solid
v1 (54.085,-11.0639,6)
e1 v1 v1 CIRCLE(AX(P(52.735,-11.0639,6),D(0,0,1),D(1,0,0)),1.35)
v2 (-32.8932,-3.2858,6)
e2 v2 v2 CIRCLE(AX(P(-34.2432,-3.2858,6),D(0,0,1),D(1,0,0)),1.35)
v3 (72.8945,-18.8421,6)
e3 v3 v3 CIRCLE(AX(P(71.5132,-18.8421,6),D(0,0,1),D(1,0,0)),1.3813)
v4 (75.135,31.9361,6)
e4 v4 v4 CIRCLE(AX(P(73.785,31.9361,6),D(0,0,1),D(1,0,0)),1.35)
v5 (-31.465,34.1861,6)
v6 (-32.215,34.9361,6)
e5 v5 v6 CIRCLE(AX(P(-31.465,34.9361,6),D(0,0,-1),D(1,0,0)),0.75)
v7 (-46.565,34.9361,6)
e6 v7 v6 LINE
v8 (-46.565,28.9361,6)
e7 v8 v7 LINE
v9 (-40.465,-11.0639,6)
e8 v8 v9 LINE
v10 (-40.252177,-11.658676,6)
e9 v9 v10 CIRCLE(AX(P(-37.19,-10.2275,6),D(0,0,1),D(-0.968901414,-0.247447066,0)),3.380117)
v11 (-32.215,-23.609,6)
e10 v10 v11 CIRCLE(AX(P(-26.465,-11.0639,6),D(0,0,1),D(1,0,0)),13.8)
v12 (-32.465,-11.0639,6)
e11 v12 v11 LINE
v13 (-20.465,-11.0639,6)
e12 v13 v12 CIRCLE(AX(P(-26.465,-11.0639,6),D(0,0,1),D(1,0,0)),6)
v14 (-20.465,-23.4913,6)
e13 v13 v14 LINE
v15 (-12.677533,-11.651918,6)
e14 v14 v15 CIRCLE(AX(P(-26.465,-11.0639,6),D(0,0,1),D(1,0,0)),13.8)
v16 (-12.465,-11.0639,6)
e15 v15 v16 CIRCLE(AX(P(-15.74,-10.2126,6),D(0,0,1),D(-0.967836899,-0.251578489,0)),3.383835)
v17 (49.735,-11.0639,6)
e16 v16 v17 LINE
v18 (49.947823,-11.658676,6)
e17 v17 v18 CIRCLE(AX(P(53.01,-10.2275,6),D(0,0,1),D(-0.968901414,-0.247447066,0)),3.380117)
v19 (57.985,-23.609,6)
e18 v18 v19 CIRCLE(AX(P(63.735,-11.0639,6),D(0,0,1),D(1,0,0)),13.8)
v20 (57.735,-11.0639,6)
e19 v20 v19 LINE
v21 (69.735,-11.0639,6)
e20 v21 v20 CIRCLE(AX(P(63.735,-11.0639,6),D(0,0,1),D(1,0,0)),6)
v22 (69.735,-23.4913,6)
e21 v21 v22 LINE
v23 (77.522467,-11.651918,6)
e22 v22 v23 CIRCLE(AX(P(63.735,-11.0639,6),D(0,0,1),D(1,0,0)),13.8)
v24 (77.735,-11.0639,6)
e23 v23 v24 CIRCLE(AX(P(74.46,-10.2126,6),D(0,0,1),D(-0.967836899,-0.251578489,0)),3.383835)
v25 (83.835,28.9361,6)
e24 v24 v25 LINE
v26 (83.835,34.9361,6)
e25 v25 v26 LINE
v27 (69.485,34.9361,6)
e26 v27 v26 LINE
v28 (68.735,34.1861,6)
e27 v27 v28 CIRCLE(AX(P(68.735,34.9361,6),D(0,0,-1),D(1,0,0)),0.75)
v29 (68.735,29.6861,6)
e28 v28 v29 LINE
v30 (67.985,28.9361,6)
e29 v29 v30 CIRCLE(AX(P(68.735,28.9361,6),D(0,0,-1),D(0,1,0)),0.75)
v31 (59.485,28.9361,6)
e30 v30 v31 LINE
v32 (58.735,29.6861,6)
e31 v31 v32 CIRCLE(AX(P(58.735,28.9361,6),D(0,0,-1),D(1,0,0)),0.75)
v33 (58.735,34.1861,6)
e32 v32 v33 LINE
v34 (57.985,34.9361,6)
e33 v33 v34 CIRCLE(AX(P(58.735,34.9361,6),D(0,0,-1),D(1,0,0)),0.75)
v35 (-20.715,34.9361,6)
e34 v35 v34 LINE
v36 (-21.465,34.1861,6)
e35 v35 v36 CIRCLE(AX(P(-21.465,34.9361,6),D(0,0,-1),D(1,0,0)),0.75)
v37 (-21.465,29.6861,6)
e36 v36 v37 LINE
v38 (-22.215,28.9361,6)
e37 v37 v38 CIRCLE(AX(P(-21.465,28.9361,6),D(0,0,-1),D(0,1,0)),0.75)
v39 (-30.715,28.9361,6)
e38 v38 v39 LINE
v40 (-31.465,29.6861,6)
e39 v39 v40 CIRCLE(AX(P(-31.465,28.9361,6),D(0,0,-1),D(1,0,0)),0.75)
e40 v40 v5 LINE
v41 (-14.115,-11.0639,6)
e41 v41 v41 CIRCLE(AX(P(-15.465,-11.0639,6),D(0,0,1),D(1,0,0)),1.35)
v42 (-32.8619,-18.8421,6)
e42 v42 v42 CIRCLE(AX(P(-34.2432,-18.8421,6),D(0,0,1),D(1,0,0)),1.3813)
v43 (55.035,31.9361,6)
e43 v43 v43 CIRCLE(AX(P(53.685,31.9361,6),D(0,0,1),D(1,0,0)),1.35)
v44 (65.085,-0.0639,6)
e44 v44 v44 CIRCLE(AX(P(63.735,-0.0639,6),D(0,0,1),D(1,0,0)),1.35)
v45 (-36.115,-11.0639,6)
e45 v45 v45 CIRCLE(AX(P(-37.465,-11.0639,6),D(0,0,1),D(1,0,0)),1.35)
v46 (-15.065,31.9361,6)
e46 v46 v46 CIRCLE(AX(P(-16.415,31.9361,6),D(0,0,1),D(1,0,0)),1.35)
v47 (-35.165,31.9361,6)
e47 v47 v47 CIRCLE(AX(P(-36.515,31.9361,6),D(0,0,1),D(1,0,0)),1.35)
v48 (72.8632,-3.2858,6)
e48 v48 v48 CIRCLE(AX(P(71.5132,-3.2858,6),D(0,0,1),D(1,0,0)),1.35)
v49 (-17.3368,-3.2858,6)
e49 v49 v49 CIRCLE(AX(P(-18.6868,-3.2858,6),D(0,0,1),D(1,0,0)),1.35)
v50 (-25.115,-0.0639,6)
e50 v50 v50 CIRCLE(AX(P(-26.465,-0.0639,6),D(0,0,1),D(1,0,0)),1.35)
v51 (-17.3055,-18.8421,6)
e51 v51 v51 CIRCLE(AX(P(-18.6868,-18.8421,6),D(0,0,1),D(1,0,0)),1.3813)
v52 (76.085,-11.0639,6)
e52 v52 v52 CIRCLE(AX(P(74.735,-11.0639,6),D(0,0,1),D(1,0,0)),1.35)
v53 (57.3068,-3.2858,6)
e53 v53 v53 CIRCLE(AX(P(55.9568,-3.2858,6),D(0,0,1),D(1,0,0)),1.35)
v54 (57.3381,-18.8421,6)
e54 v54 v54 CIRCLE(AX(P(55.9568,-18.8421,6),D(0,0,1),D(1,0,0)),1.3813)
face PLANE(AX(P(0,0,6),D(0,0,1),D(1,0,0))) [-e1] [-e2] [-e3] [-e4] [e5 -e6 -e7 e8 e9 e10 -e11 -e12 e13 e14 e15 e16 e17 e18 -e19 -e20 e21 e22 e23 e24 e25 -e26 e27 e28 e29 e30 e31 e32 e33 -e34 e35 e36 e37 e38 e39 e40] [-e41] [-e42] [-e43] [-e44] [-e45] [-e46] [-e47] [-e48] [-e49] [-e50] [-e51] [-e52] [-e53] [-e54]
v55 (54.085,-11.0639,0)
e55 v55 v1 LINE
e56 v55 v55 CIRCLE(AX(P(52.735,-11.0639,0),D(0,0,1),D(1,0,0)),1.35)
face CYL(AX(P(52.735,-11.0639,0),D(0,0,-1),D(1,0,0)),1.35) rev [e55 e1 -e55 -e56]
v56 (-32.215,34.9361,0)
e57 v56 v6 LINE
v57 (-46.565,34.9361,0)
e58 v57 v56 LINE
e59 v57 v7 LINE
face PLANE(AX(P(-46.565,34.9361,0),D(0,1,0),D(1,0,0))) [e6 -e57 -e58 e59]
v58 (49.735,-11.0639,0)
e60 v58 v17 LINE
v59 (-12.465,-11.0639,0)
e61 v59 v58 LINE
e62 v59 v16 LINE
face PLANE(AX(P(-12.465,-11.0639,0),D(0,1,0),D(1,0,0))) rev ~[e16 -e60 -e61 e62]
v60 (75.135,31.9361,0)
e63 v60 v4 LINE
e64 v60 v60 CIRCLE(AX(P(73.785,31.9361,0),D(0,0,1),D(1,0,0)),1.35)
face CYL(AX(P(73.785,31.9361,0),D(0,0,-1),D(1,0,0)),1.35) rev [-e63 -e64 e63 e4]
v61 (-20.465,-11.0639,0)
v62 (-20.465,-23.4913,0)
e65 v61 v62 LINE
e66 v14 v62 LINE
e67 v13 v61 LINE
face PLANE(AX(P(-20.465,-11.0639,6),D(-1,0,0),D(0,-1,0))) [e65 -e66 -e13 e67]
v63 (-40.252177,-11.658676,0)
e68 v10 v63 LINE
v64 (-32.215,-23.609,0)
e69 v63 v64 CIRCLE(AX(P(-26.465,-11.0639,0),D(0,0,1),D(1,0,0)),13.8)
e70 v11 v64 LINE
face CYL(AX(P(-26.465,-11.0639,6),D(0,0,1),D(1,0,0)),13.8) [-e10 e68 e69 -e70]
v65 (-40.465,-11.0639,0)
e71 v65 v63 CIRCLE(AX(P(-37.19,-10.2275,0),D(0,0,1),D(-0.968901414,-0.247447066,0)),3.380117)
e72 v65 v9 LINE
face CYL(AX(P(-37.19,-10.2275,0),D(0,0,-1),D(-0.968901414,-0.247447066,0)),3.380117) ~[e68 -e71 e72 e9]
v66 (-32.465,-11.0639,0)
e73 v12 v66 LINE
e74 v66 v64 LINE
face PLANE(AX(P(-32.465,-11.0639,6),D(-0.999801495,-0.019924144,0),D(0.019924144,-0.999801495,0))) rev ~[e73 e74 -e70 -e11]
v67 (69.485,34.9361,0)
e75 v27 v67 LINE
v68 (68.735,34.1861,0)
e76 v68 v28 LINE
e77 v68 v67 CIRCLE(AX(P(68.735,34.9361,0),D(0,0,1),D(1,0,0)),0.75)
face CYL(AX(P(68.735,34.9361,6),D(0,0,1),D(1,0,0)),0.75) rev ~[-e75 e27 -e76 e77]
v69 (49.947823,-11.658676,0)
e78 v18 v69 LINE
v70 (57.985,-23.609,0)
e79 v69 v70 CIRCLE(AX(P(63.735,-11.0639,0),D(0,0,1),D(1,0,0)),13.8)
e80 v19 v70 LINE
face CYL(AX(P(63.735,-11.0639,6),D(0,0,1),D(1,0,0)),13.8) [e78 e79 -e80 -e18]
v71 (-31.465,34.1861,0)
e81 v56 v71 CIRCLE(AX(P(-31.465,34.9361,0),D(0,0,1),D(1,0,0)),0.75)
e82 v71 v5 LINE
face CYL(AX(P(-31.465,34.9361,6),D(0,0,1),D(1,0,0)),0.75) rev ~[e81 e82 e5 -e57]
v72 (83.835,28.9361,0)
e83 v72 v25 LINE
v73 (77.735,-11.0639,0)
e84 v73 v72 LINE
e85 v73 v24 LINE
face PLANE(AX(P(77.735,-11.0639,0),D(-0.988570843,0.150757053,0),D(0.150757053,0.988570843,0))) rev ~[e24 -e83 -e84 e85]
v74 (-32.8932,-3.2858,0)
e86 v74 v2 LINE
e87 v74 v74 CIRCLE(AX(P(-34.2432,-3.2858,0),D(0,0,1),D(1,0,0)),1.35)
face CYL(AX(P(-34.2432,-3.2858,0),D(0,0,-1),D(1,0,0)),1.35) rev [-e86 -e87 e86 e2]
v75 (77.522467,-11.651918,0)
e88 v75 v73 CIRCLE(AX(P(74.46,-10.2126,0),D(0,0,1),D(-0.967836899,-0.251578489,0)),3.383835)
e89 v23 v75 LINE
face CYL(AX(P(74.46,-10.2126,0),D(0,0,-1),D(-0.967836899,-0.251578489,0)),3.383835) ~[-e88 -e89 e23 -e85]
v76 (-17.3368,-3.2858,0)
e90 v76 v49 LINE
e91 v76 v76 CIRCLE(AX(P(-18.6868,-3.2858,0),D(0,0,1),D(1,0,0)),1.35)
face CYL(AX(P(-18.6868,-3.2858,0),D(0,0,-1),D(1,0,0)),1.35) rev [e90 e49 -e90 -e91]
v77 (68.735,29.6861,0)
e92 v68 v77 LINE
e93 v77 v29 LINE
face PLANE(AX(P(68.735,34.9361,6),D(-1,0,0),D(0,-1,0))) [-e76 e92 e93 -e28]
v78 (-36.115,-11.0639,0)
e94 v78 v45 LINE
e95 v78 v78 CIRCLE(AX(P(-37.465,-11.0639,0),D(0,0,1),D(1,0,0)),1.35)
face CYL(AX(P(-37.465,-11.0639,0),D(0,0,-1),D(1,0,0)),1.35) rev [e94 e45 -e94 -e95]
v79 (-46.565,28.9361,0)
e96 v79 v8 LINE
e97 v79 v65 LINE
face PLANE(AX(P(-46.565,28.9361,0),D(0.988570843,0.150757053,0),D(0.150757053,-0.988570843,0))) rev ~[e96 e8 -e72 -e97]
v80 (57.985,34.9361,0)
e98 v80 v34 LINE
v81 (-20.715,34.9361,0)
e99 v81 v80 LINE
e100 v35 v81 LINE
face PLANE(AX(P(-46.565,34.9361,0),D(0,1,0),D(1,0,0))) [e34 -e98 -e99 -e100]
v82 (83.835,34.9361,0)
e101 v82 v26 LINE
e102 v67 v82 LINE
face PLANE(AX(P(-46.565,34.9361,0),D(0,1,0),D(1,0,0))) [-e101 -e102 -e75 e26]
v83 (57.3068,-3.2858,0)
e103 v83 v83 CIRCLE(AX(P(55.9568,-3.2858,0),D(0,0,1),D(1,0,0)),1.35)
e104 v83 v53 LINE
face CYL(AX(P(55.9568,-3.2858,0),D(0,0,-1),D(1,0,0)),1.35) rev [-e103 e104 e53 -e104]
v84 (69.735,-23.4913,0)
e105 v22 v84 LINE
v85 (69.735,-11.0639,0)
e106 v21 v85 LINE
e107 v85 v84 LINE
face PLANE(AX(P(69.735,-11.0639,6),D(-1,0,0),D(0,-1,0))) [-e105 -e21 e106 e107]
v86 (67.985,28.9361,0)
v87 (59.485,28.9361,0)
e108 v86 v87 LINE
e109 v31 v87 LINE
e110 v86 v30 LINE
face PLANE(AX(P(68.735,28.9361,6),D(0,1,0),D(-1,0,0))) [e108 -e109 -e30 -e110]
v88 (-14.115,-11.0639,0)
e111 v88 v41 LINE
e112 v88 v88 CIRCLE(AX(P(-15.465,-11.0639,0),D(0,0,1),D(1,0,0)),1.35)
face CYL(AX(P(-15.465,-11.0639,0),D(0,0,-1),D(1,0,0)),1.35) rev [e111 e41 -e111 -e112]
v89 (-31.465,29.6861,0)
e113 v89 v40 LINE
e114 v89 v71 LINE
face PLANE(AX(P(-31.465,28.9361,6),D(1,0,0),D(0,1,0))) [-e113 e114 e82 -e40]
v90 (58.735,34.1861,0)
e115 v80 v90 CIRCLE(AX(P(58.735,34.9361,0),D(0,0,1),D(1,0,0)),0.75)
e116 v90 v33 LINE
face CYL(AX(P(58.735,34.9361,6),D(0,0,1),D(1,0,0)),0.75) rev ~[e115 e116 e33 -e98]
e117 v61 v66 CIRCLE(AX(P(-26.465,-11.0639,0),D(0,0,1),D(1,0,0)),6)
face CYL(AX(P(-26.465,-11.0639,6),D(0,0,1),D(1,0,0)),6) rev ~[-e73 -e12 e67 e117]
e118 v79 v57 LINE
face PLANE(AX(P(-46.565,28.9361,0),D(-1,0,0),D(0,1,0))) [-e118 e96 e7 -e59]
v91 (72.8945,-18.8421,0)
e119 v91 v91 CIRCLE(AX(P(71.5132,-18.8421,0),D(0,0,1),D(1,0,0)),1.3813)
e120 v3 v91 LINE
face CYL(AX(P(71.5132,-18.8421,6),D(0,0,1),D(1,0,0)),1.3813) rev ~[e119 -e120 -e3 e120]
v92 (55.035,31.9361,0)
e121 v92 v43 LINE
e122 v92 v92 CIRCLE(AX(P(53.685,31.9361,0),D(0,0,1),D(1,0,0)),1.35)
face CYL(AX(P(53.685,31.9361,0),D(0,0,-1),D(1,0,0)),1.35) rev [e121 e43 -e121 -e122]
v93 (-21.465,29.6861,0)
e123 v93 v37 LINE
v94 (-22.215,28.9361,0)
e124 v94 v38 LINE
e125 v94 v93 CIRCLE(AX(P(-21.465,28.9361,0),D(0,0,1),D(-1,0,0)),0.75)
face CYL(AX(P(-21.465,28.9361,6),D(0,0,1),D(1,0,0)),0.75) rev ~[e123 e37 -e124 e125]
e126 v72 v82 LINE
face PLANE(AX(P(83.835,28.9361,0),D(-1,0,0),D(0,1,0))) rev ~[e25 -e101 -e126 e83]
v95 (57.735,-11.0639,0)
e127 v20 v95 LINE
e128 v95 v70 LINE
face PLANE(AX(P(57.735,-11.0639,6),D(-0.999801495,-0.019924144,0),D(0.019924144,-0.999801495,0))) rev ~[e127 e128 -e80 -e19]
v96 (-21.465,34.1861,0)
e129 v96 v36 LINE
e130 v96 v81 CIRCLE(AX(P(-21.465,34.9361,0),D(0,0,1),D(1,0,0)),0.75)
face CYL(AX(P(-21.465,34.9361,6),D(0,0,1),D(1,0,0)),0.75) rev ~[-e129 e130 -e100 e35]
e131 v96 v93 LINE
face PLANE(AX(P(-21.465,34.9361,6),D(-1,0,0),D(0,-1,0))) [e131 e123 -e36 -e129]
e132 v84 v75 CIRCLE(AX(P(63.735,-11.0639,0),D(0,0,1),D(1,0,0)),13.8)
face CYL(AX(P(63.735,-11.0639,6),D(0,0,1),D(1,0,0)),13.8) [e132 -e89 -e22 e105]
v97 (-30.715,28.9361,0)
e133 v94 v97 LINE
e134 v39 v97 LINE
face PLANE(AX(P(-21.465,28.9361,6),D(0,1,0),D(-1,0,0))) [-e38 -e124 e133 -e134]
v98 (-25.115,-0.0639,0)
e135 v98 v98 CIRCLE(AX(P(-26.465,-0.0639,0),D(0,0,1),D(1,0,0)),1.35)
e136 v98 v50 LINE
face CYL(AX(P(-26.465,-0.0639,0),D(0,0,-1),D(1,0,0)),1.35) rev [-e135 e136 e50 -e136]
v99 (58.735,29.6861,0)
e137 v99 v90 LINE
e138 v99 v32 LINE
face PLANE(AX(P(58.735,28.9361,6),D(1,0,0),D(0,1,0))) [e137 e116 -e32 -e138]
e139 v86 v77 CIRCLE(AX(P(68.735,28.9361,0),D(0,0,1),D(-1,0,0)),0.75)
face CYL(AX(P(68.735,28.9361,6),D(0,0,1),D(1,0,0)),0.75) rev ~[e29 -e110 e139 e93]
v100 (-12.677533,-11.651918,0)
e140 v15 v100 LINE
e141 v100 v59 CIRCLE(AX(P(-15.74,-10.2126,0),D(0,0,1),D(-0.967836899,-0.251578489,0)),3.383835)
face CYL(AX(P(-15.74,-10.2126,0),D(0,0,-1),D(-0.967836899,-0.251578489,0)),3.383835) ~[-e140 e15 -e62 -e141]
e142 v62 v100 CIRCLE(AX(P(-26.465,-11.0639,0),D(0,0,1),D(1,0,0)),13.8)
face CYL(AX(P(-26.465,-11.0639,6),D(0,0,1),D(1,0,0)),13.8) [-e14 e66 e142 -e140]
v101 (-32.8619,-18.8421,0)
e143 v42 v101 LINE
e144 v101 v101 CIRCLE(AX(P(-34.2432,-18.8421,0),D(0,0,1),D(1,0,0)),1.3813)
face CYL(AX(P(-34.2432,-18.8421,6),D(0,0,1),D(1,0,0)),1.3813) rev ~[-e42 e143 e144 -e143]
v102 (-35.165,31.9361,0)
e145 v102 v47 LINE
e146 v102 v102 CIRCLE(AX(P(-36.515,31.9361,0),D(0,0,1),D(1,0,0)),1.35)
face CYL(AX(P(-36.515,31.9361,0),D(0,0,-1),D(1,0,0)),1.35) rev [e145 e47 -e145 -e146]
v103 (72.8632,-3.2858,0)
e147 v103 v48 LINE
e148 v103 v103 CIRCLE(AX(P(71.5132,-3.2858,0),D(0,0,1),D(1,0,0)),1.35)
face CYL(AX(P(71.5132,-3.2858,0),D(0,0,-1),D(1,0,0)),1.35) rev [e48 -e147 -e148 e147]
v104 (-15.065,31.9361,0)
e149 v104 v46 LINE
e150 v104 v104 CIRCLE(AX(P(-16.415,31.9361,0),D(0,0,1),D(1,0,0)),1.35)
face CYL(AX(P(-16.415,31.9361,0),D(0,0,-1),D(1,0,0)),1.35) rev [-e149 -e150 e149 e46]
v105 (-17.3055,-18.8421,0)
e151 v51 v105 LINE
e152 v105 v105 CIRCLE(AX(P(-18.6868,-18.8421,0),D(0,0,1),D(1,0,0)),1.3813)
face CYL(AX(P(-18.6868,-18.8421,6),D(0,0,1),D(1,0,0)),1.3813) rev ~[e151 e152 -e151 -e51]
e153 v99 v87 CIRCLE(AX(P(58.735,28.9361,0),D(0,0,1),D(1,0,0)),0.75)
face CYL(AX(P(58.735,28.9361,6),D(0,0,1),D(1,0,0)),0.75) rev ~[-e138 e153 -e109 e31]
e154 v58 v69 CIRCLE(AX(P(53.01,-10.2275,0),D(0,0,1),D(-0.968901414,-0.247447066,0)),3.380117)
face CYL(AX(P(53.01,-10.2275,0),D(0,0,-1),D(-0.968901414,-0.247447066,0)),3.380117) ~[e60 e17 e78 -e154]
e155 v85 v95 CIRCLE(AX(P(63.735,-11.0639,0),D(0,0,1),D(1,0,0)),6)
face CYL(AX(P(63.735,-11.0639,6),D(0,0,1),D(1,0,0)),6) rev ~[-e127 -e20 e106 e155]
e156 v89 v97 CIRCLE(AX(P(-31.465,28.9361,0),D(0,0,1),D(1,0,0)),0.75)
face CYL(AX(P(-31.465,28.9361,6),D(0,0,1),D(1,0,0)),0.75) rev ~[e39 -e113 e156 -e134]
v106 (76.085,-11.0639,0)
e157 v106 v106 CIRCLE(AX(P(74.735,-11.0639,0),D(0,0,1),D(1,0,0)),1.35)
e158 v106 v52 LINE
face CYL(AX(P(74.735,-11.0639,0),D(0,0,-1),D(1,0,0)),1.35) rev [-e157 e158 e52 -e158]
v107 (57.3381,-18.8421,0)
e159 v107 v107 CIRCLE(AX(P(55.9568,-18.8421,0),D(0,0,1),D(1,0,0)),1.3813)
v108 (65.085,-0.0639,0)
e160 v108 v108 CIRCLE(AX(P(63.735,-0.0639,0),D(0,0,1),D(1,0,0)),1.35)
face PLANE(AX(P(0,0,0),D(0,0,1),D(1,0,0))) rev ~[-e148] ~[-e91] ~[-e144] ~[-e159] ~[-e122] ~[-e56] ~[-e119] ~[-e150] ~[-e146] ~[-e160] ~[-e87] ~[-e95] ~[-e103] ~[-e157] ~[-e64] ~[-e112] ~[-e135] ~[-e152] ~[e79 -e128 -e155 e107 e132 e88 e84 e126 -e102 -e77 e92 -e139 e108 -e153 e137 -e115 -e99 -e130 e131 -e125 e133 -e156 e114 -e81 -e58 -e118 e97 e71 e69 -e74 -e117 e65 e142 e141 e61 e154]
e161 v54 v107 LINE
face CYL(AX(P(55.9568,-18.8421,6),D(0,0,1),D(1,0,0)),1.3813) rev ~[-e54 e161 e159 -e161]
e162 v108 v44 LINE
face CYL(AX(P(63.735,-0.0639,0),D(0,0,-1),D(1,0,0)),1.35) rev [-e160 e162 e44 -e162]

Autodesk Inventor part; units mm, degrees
ref_plane "YZ Plane" through (0, 0, 0) normal (1, 0, 0) x (0, 1, 0)
ref_plane "XZ Plane" through (0, 0, 0) normal (0, 1, 0) x (-1, 0, 0)
ref_plane "XY Plane" through (0, 0, 0) normal (0, 0, 1) x (1, 0, 0)
sketch "스케치1" plane through (0, 0, 0) normal (0, 0, 1) x (1, 0, 0)
  circle A0 centre (74.735, -11.0639) radius 1.35
  circle A1 centre (71.5132, -3.2858) radius 1.35
  circle A2 centre (55.9568, -3.2858) radius 1.35
  circle A3 centre (52.735, -11.0639) radius 1.35
  circle A4 centre (-18.6868, -3.2858) radius 1.35
  circle A5 centre (-15.465, -11.0639) radius 1.35
  circle A6 centre (-34.2432, -3.2858) radius 1.35
  circle A7 centre (-37.465, -11.0639) radius 1.35
  circle A8 centre (-26.465, -0.0639) radius 1.35
  circle A9 centre (63.735, -0.0639) radius 1.35
  line L0 (83.835, 28.9361) -> (83.835, 34.9361)
  line L1 (-46.565, 34.9361) -> (83.835, 34.9361)
  line L2 (-46.565, 28.9361) -> (-46.565, 34.9361)
  line L3 (-46.565, 28.9361) -> (-40.465, -11.0639)
  arc A10 (-40.465, -11.0639) -> (-33.915, -11.0639) centre (-37.19, -10.2275) ccw
  arc A11 (-19.015, -11.0639) -> (-33.915, -11.0639) centre (-26.465, -11.0639) ccw
  arc A12 (-19.015, -11.0639) -> (-12.465, -11.0639) centre (-15.74, -10.2126) ccw
  line L4 (-12.465, -11.0639) -> (49.735, -11.0639)
  arc A13 (49.735, -11.0639) -> (56.285, -11.0639) centre (53.01, -10.2275) ccw
  arc A14 (71.185, -11.0639) -> (56.285, -11.0639) centre (63.735, -11.0639) ccw
  arc A15 (71.185, -11.0639) -> (77.735, -11.0639) centre (74.46, -10.2126) ccw
  line L5 (77.735, -11.0639) -> (83.835, 28.9361)
  line L6 (-46.565, 28.9361) -> (83.835, 28.9361)
  circle A16 centre (-36.515, 31.9361) radius 1.35
  circle A17 centre (-16.415, 31.9361) radius 1.35
  circle A18 centre (73.785, 31.9361) radius 1.35
  circle A19 centre (53.685, 31.9361) radius 1.35
  point P0 (0, 0)
  point P1 (70.4566, 28.9361)
  dimension "d0" = 130.4
  dimension "d9" = 2.7
  dimension "d10" = 2.7
  dimension "d13" = 2.7
  dimension "d14" = 2.7
  dimension "d15" = 46
extrude "돌출1" add sketch "스케치1" along normal blind 6
sketch "스케치2" plane through (0, 0, 6) normal (0, 0, 1) x (1, 0, 0)
  line L0 (83.835, 34.9361) -> (-46.565, 34.9361) projected
  line L1 (-46.565, 34.9361) -> (-46.565, 28.9361) projected
  line L2 (-46.565, 28.9361) -> (-40.465, -11.0639) projected
  arc A0 (-40.465, -11.0639) -> (-33.915, -11.0639) centre (-37.19, -10.2275) ccw projected
  arc A1 (-19.015, -11.0639) -> (-33.915, -11.0639) centre (-26.465, -11.0639) ccw projected
  arc A2 (-19.015, -11.0639) -> (-12.465, -11.0639) centre (-15.74, -10.2126) ccw projected
  line L3 (-12.465, -11.0639) -> (49.735, -11.0639) projected
  arc A3 (49.735, -11.0639) -> (56.285, -11.0639) centre (53.01, -10.2275) ccw projected
  arc A4 (71.185, -11.0639) -> (56.285, -11.0639) centre (63.735, -11.0639) ccw projected
  arc A5 (71.185, -11.0639) -> (77.735, -11.0639) centre (74.46, -10.2126) ccw projected
  line L4 (77.735, -11.0639) -> (83.835, 28.9361) projected
  line L5 (83.835, 28.9361) -> (83.835, 34.9361) projected
  circle A6 centre (74.735, -11.0639) radius 1.35 projected
  circle A7 centre (71.5132, -3.2858) radius 1.35 projected
  circle A8 centre (52.735, -11.0639) radius 1.35 projected
  circle A9 centre (55.9568, -3.2858) radius 1.35 projected
  circle A10 centre (-15.465, -11.0639) radius 1.35 projected
  circle A11 centre (-18.6868, -3.2858) radius 1.35 projected
  circle A12 centre (-37.465, -11.0639) radius 1.35 projected
  circle A13 centre (-34.2432, -3.2858) radius 1.35 projected
  circle A14 centre (-26.465, -0.0639) radius 1.35 projected
  circle A15 centre (63.735, -0.0639) radius 1.35 projected
  circle A16 centre (-36.515, 31.9361) radius 1.35 projected
  circle A17 centre (-16.415, 31.9361) radius 1.35 projected
  circle A18 centre (73.785, 31.9361) radius 1.35 projected
  circle A19 centre (53.685, 31.9361) radius 1.35 projected
  line L6 (-31.465, 28.9361) -> (-31.465, 34.9361)
  line L7 (-31.465, 34.9361) -> (-21.465, 34.9361)
  line L8 (-21.465, 34.9361) -> (-21.465, 28.9361)
  line L9 (-21.465, 28.9361) -> (-31.465, 28.9361)
  line L10 (-31.465, 28.9361) -> (-21.465, 34.9361) construction
  line L11 (-31.465, 34.9361) -> (-21.465, 28.9361) construction
  line L12 (58.735, 28.9361) -> (58.735, 34.9361)
  line L13 (58.735, 34.9361) -> (68.735, 34.9361)
  line L14 (68.735, 34.9361) -> (68.735, 28.9361)
  line L15 (68.735, 28.9361) -> (58.735, 28.9361)
  line L16 (58.735, 28.9361) -> (68.735, 34.9361) construction
  line L17 (58.735, 34.9361) -> (68.735, 28.9361) construction
  point P0 (0, 0)
  point P1 (-26.465, 31.9361)
  point P2 (63.735, 31.9361)
  dimension "d16" = 10
  dimension "d17" = 10
extrude "돌출2" cut sketch "스케치2" against normal blind 10 contours L14 L15 L12 L0 | L8 L9 L6 L0
sketch "스케치3" plane through (0, 0, 6) normal (0, 0, 1) x (1, 0, 0)
  line L0 (58.735, 28.9361) -> (58.735, 34.9361) projected
  line L1 (58.735, 34.9361) -> (-21.465, 34.9361) projected
  line L2 (-21.465, 34.9361) -> (-21.465, 28.9361) projected
  line L3 (-21.465, 28.9361) -> (-31.465, 28.9361) projected
  line L4 (-31.465, 28.9361) -> (-31.465, 34.9361) projected
  line L5 (-31.465, 34.9361) -> (-46.565, 34.9361) projected
  line L6 (-46.565, 34.9361) -> (-46.565, 28.9361) projected
  line L7 (-46.565, 28.9361) -> (-40.465, -11.0639) projected
  arc A0 (-40.465, -11.0639) -> (-33.915, -11.0639) centre (-37.19, -10.2275) ccw projected
  arc A1 (-19.015, -11.0639) -> (-33.915, -11.0639) centre (-26.465, -11.0639) ccw projected
  arc A2 (-19.015, -11.0639) -> (-12.465, -11.0639) centre (-15.74, -10.2126) ccw projected
  line L8 (-12.465, -11.0639) -> (49.735, -11.0639) projected
  arc A3 (49.735, -11.0639) -> (56.285, -11.0639) centre (53.01, -10.2275) ccw projected
  arc A4 (71.185, -11.0639) -> (56.285, -11.0639) centre (63.735, -11.0639) ccw projected
  arc A5 (71.185, -11.0639) -> (77.735, -11.0639) centre (74.46, -10.2126) ccw projected
  line L9 (77.735, -11.0639) -> (83.835, 28.9361) projected
  line L10 (83.835, 28.9361) -> (83.835, 34.9361) projected
  line L11 (83.835, 34.9361) -> (68.735, 34.9361) projected
  line L12 (68.735, 34.9361) -> (68.735, 28.9361) projected
  line L13 (68.735, 28.9361) -> (58.735, 28.9361) projected
  circle A6 centre (74.735, -11.0639) radius 1.35 projected
  circle A7 centre (71.5132, -3.2858) radius 1.35 projected
  circle A8 centre (52.735, -11.0639) radius 1.35 projected
  circle A9 centre (55.9568, -3.2858) radius 1.35 projected
  circle A10 centre (-15.465, -11.0639) radius 1.35 projected
  circle A11 centre (-18.6868, -3.2858) radius 1.35 projected
  circle A12 centre (-37.465, -11.0639) radius 1.35 projected
  circle A13 centre (-34.2432, -3.2858) radius 1.35 projected
  circle A14 centre (-26.465, -0.0639) radius 1.35 projected
  circle A15 centre (63.735, -0.0639) radius 1.35 projected
  circle A16 centre (-36.515, 31.9361) radius 1.35 projected
  circle A17 centre (-16.415, 31.9361) radius 1.35 projected
  circle A18 centre (73.785, 31.9361) radius 1.35 projected
  circle A19 centre (53.685, 31.9361) radius 1.35 projected
  circle A20 centre (-31.465, 28.9361) radius 0.75
  circle A21 centre (-21.465, 28.9361) radius 0.75
  circle A22 centre (-31.465, 34.9361) radius 0.75
  circle A23 centre (-21.465, 34.9361) radius 0.75
  circle A24 centre (58.735, 28.9361) radius 0.75
  line L14 (58.735, 34.9361) -> (58.735, 28.9361) projected
  circle A25 centre (58.735, 34.9361) radius 0.75
  circle A26 centre (68.735, 34.9361) radius 0.75
  circle A27 centre (68.735, 28.9361) radius 0.75
  point P0 (0, 0)
  dimension "d20" = 1.5
  dimension "d21" = 1.5
  dimension "d22" = 1.5
  dimension "d23" = 1.5
  dimension "d24" = 1.5
  dimension "d25" = 1.5
  dimension "d26" = 1.5
  dimension "d27" = 1.5
extrude "돌출3" cut sketch "스케치3" against normal blind 10 contours L13 A24 L0 | L0 A24 L13 | A25 L1 L0 | L0 L1 A25 | A27 L12 L13 | L13 L12 A27 | A23 L2 L1 | L1 L2 A23 | A26 L11 L12 | L12 L11 A26 | A21 L3 L2 | L2 L3 A21 | A20 L4 L3 | L3 L4 A20 | A22 L5 L4 | L4 L5 A22
sketch "스케치4" plane through (0, 0, 6) normal (0, 0, 1) x (1, 0, 0)
  line L0 (57.985, 34.9361) -> (-20.715, 34.9361) projected
  line L1 (57.985, 34.9361) -> (-20.715, 34.9361) projected
  line L2 (57.985, 34.9361) -> (-20.715, 34.9361) projected
  line L3 (57.985, 34.9361) -> (-20.715, 34.9361) projected
  line L4 (-12.465, -11.0639) -> (49.735, -11.0639) projected
  line L5 (-12.465, -11.0639) -> (49.735, -11.0639) projected
  line L6 (-12.465, -11.0639) -> (49.735, -11.0639) projected
  line L7 (-12.465, -11.0639) -> (49.735, -11.0639) projected
  arc A0 (-21.465, 34.1861) -> (-20.715, 34.9361) centre (-21.465, 34.9361) ccw projected
  line L8 (-21.465, 34.1861) -> (-21.465, 29.6861) projected
  arc A1 (-22.215, 28.9361) -> (-21.465, 29.6861) centre (-21.465, 28.9361) ccw projected
  line L9 (-22.215, 28.9361) -> (-30.715, 28.9361) projected
  arc A2 (-31.465, 29.6861) -> (-30.715, 28.9361) centre (-31.465, 28.9361) ccw projected
  line L10 (-31.465, 29.6861) -> (-31.465, 34.1861) projected
  arc A3 (-32.215, 34.9361) -> (-31.465, 34.1861) centre (-31.465, 34.9361) ccw projected
  line L11 (-32.215, 34.9361) -> (-46.565, 34.9361) projected
  line L12 (-46.565, 34.9361) -> (-46.565, 28.9361) projected
  line L13 (-46.565, 28.9361) -> (-40.465, -11.0639) projected
  arc A4 (-40.465, -11.0639) -> (-33.915, -11.0639) centre (-37.19, -10.2275) ccw projected
  arc A5 (-19.015, -11.0639) -> (-33.915, -11.0639) centre (-26.465, -11.0639) ccw projected
  arc A6 (-19.015, -11.0639) -> (-12.465, -11.0639) centre (-15.74, -10.2126) ccw projected
  line L14 (-12.465, -11.0639) -> (49.735, -11.0639) projected
  arc A7 (49.735, -11.0639) -> (56.285, -11.0639) centre (53.01, -10.2275) ccw projected
  arc A8 (71.185, -11.0639) -> (56.285, -11.0639) centre (63.735, -11.0639) ccw projected
  arc A9 (71.185, -11.0639) -> (77.735, -11.0639) centre (74.46, -10.2126) ccw projected
  line L15 (77.735, -11.0639) -> (83.835, 28.9361) projected
  line L16 (83.835, 28.9361) -> (83.835, 34.9361) projected
  line L17 (83.835, 34.9361) -> (69.485, 34.9361) projected
  arc A10 (68.735, 34.1861) -> (69.485, 34.9361) centre (68.735, 34.9361) ccw projected
  line L18 (68.735, 34.1861) -> (68.735, 29.6861) projected
  arc A11 (67.985, 28.9361) -> (68.735, 29.6861) centre (68.735, 28.9361) ccw projected
  line L19 (67.985, 28.9361) -> (59.485, 28.9361) projected
  arc A12 (58.735, 29.6861) -> (59.485, 28.9361) centre (58.735, 28.9361) ccw projected
  line L20 (58.735, 29.6861) -> (58.735, 34.1861) projected
  arc A13 (57.985, 34.9361) -> (58.735, 34.1861) centre (58.735, 34.9361) ccw projected
  line L21 (57.985, 34.9361) -> (-20.715, 34.9361) projected
  circle A14 centre (74.735, -11.0639) radius 1.35 projected
  circle A15 centre (71.5132, -3.2858) radius 1.35 projected
  circle A16 centre (52.735, -11.0639) radius 1.35 projected
  circle A17 centre (55.9568, -3.2858) radius 1.35 projected
  circle A18 centre (-15.465, -11.0639) radius 1.35 projected
  circle A19 centre (-18.6868, -3.2858) radius 1.35 projected
  circle A20 centre (-37.465, -11.0639) radius 1.35 projected
  circle A21 centre (-34.2432, -3.2858) radius 1.35 projected
  circle A22 centre (-26.465, -0.0639) radius 1.35 projected
  circle A23 centre (63.735, -0.0639) radius 1.35 projected
  circle A24 centre (-36.515, 31.9361) radius 1.35 projected
  circle A25 centre (-16.415, 31.9361) radius 1.35 projected
  circle A26 centre (73.785, 31.9361) radius 1.35 projected
  circle A27 centre (53.685, 31.9361) radius 1.35 projected
  circle A28 centre (74.735, -11.0639) radius 1.35 projected
  circle A29 centre (71.5132, -3.2858) radius 1.35 projected
  circle A30 centre (52.735, -11.0639) radius 1.35 projected
  circle A31 centre (55.9568, -3.2858) radius 1.35 projected
  circle A32 centre (-15.465, -11.0639) radius 1.35 projected
  circle A33 centre (-18.6868, -3.2858) radius 1.35 projected
  circle A34 centre (-37.465, -11.0639) radius 1.35 projected
  circle A35 centre (-34.2432, -3.2858) radius 1.35 projected
  circle A36 centre (-26.465, -0.0639) radius 1.35 projected
  circle A37 centre (63.735, -0.0639) radius 1.35 projected
  circle A38 centre (-36.515, 31.9361) radius 1.35 projected
  circle A39 centre (-16.415, 31.9361) radius 1.35 projected
  circle A40 centre (73.785, 31.9361) radius 1.35 projected
  circle A41 centre (53.685, 31.9361) radius 1.35 projected
  arc A42 (-21.465, 34.1861) -> (-20.715, 34.9361) centre (-21.465, 34.9361) ccw projected
  line L22 (57.985, 34.9361) -> (-20.715, 34.9361) projected
  arc A43 (57.985, 34.9361) -> (58.735, 34.1861) centre (58.735, 34.9361) ccw projected
  line L23 (58.735, 34.1861) -> (58.735, 29.6861) projected
  arc A44 (58.735, 29.6861) -> (59.485, 28.9361) centre (58.735, 28.9361) ccw projected
  line L24 (59.485, 28.9361) -> (67.985, 28.9361) projected
  arc A45 (67.985, 28.9361) -> (68.735, 29.6861) centre (68.735, 28.9361) ccw projected
  line L25 (68.735, 29.6861) -> (68.735, 34.1861) projected
  arc A46 (68.735, 34.1861) -> (69.485, 34.9361) centre (68.735, 34.9361) ccw projected
  line L26 (83.835, 34.9361) -> (69.485, 34.9361) projected
  line L27 (83.835, 28.9361) -> (83.835, 34.9361) projected
  line L28 (77.735, -11.0639) -> (83.835, 28.9361) projected
  arc A47 (71.185, -11.0639) -> (77.735, -11.0639) centre (74.46, -10.2126) ccw projected
  arc A48 (71.185, -11.0639) -> (56.285, -11.0639) centre (63.735, -11.0639) ccw projected
  arc A49 (49.735, -11.0639) -> (56.285, -11.0639) centre (53.01, -10.2275) ccw projected
  line L29 (-12.465, -11.0639) -> (49.735, -11.0639) projected
  arc A50 (-19.015, -11.0639) -> (-12.465, -11.0639) centre (-15.74, -10.2126) ccw projected
  arc A51 (-19.015, -11.0639) -> (-33.915, -11.0639) centre (-26.465, -11.0639) ccw projected
  arc A52 (-40.465, -11.0639) -> (-33.915, -11.0639) centre (-37.19, -10.2275) ccw projected
  line L30 (-46.565, 28.9361) -> (-40.465, -11.0639) projected
  line L31 (-46.565, 34.9361) -> (-46.565, 28.9361) projected
  line L32 (-32.215, 34.9361) -> (-46.565, 34.9361) projected
  arc A53 (-32.215, 34.9361) -> (-31.465, 34.1861) centre (-31.465, 34.9361) ccw projected
  line L33 (-31.465, 34.1861) -> (-31.465, 29.6861) projected
  arc A54 (-31.465, 29.6861) -> (-30.715, 28.9361) centre (-31.465, 28.9361) ccw projected
  line L34 (-30.715, 28.9361) -> (-22.215, 28.9361) projected
  arc A55 (-22.215, 28.9361) -> (-21.465, 29.6861) centre (-21.465, 28.9361) ccw projected
  line L35 (-21.465, 29.6861) -> (-21.465, 34.1861) projected
  arc A56 (57.985, 34.9361) -> (58.735, 34.1861) centre (58.735, 34.9361) ccw projected
  line L36 (58.735, 29.6861) -> (58.735, 34.1861) projected
  arc A57 (57.985, 34.9361) -> (58.735, 34.1861) centre (58.735, 34.9361) ccw projected
  arc A58 (57.985, 34.9361) -> (58.735, 34.1861) centre (58.735, 34.9361) ccw projected
  arc A59 (57.985, 34.9361) -> (58.735, 34.1861) centre (58.735, 34.9361) ccw projected
  line L37 (58.735, 34.1861) -> (58.735, 29.6861) projected
  line L38 (58.735, 29.6861) -> (58.735, 34.1861) projected
  line L39 (58.735, 34.1861) -> (58.735, 29.6861) projected
  arc A60 (58.735, 29.6861) -> (59.485, 28.9361) centre (58.735, 28.9361) ccw projected
  arc A61 (58.735, 29.6861) -> (59.485, 28.9361) centre (58.735, 28.9361) ccw projected
  arc A62 (58.735, 29.6861) -> (59.485, 28.9361) centre (58.735, 28.9361) ccw projected
  arc A63 (58.735, 29.6861) -> (59.485, 28.9361) centre (58.735, 28.9361) ccw projected
  circle A64 centre (55.9568, -3.2858) radius 1.35 projected
  circle A65 centre (55.9568, -3.2858) radius 1.35 projected
  circle A66 centre (55.9568, -3.2858) radius 1.35 projected
  arc A67 (68.735, 34.1861) -> (69.485, 34.9361) centre (68.735, 34.9361) ccw projected
  arc A68 (68.735, 34.1861) -> (69.485, 34.9361) centre (68.735, 34.9361) ccw projected
  arc A69 (67.985, 28.9361) -> (68.735, 29.6861) centre (68.735, 28.9361) ccw projected
  circle A70 centre (63.735, -0.0639) radius 1.35 projected
  circle A71 centre (63.735, -0.0639) radius 1.35 projected
  circle A72 centre (74.735, -11.0639) radius 1.35 projected
  arc A73 (-32.215, 34.9361) -> (-31.465, 34.1861) centre (-31.465, 34.9361) ccw projected
  circle A74 centre (71.5132, -3.2858) radius 1.35 projected
  arc A75 (67.985, 28.9361) -> (68.735, 29.6861) centre (68.735, 28.9361) ccw projected
  arc A76 (49.735, -11.0639) -> (56.285, -11.0639) centre (53.01, -10.2275) ccw projected
  arc A77 (49.735, -11.0639) -> (56.285, -11.0639) centre (53.01, -10.2275) ccw projected
  arc A78 (71.185, -11.0639) -> (56.285, -11.0639) centre (63.735, -11.0639) ccw projected
  arc A79 (71.185, -11.0639) -> (56.285, -11.0639) centre (63.735, -11.0639) ccw projected
  arc A80 (71.185, -11.0639) -> (56.285, -11.0639) centre (63.735, -11.0639) ccw projected
  arc A81 (71.185, -11.0639) -> (56.285, -11.0639) centre (63.735, -11.0639) ccw projected
  arc A82 (-22.215, 28.9361) -> (-21.465, 29.6861) centre (-21.465, 28.9361) ccw projected
  arc A83 (-22.215, 28.9361) -> (-21.465, 29.6861) centre (-21.465, 28.9361) ccw projected
  arc A84 (-32.215, 34.9361) -> (-31.465, 34.1861) centre (-31.465, 34.9361) ccw projected
  circle A85 centre (63.735, -0.0639) radius 1.35 projected
  circle A86 centre (55.9568, -3.2858) radius 1.35 projected
  arc A87 (-21.465, 34.1861) -> (-20.715, 34.9361) centre (-21.465, 34.9361) ccw projected
  arc A88 (-31.465, 29.6861) -> (-30.715, 28.9361) centre (-31.465, 28.9361) ccw projected
  arc A89 (-31.465, 29.6861) -> (-30.715, 28.9361) centre (-31.465, 28.9361) ccw projected
  line L40 (-31.465, 34.1861) -> (-31.465, 29.6861) projected
  arc A90 (-21.465, 34.1861) -> (-20.715, 34.9361) centre (-21.465, 34.9361) ccw projected
  circle A91 centre (52.735, -11.0639) radius 1.35 projected
  circle A92 centre (52.735, -11.0639) radius 1.35 projected
  circle A93 centre (52.735, -11.0639) radius 1.35 projected
  circle A94 centre (52.735, -11.0639) radius 1.35 projected
  circle A95 centre (-18.6868, -3.2858) radius 1.35 projected
  line L41 (-31.465, 29.6861) -> (-31.465, 34.1861) projected
  circle A96 centre (-16.415, 31.9361) radius 1.35 projected
  line L42 (67.985, 28.9361) -> (59.485, 28.9361) projected
  circle A97 centre (53.685, 31.9361) radius 1.35 projected
  circle A98 centre (53.685, 31.9361) radius 1.35 projected
  circle A99 centre (53.685, 31.9361) radius 1.35 projected
  line L43 (59.485, 28.9361) -> (67.985, 28.9361) projected
  line L44 (67.985, 28.9361) -> (59.485, 28.9361) projected
  circle A100 centre (53.685, 31.9361) radius 1.35 projected
  circle A101 centre (73.785, 31.9361) radius 1.35 projected
  line L45 (68.735, 29.6861) -> (68.735, 34.1861) projected
  line L46 (83.835, 34.9361) -> (69.485, 34.9361) projected
  line L47 (83.835, 28.9361) -> (83.835, 34.9361) projected
  line L48 (59.485, 28.9361) -> (67.985, 28.9361) projected
  circle A102 centre (-15.465, -11.0639) radius 1.35 projected
  circle A103 centre (-37.465, -11.0639) radius 1.35 projected
  arc A104 (-19.015, -11.0639) -> (-12.465, -11.0639) centre (-15.74, -10.2126) ccw projected
  arc A105 (-19.015, -11.0639) -> (-33.915, -11.0639) centre (-26.465, -11.0639) ccw projected
  arc A106 (71.185, -11.0639) -> (77.735, -11.0639) centre (74.46, -10.2126) ccw projected
  line L49 (77.735, -11.0639) -> (83.835, 28.9361) projected
  line L50 (77.735, -11.0639) -> (83.835, 28.9361) projected
  line L51 (77.735, -11.0639) -> (83.835, 28.9361) projected
  line L52 (77.735, -11.0639) -> (83.835, 28.9361) projected
  circle A107 centre (-34.2432, -3.2858) radius 1.35 projected
  circle A108 centre (-26.465, -0.0639) radius 1.35 projected
  circle A109 centre (-36.515, 31.9361) radius 1.35 projected
  line L53 (-21.465, 29.6861) -> (-21.465, 34.1861) projected
  arc A110 (-40.465, -11.0639) -> (-33.915, -11.0639) centre (-37.19, -10.2275) ccw projected
  line L54 (-46.565, 28.9361) -> (-40.465, -11.0639) projected
  line L55 (-46.565, 34.9361) -> (-46.565, 28.9361) projected
  line L56 (-32.215, 34.9361) -> (-46.565, 34.9361) projected
  line L57 (-30.715, 28.9361) -> (-22.215, 28.9361) projected
  arc A111 (49.735, -11.0639) -> (56.285, -11.0639) centre (53.01, -10.2275) ccw projected
  arc A112 (71.185, -11.0639) -> (77.735, -11.0639) centre (74.46, -10.2126) ccw projected
  arc A113 (71.185, -11.0639) -> (77.735, -11.0639) centre (74.46, -10.2126) ccw projected
  arc A114 (71.185, -11.0639) -> (77.735, -11.0639) centre (74.46, -10.2126) ccw projected
  circle A115 centre (74.735, -11.0639) radius 1.35 projected
  circle A116 centre (74.735, -11.0639) radius 1.35 projected
  circle A117 centre (74.735, -11.0639) radius 1.35 projected
  line L58 (-21.465, 34.1861) -> (-21.465, 29.6861) projected
  line L59 (-22.215, 28.9361) -> (-30.715, 28.9361) projected
  line L60 (-32.215, 34.9361) -> (-46.565, 34.9361) projected
  arc A118 (-19.015, -11.0639) -> (-33.915, -11.0639) centre (-26.465, -11.0639) ccw projected
  line L61 (-46.565, 34.9361) -> (-46.565, 28.9361) projected
  line L62 (-46.565, 28.9361) -> (-40.465, -11.0639) projected
  arc A119 (-40.465, -11.0639) -> (-33.915, -11.0639) centre (-37.19, -10.2275) ccw projected
  arc A120 (-19.015, -11.0639) -> (-12.465, -11.0639) centre (-15.74, -10.2126) ccw projected
  arc A121 (49.735, -11.0639) -> (56.285, -11.0639) centre (53.01, -10.2275) ccw projected
  arc A122 (67.985, 28.9361) -> (68.735, 29.6861) centre (68.735, 28.9361) ccw projected
  arc A123 (67.985, 28.9361) -> (68.735, 29.6861) centre (68.735, 28.9361) ccw projected
  circle A124 centre (73.785, 31.9361) radius 1.35 projected
  circle A125 centre (73.785, 31.9361) radius 1.35 projected
  circle A126 centre (73.785, 31.9361) radius 1.35 projected
  arc A127 (68.735, 34.1861) -> (69.485, 34.9361) centre (68.735, 34.9361) ccw projected
  arc A128 (68.735, 34.1861) -> (69.485, 34.9361) centre (68.735, 34.9361) ccw projected
  line L63 (68.735, 34.1861) -> (68.735, 29.6861) projected
  line L64 (83.835, 28.9361) -> (83.835, 34.9361) projected
  line L65 (83.835, 28.9361) -> (83.835, 34.9361) projected
  line L66 (83.835, 28.9361) -> (83.835, 34.9361) projected
  line L67 (83.835, 34.9361) -> (69.485, 34.9361) projected
  line L68 (83.835, 34.9361) -> (69.485, 34.9361) projected
  line L69 (83.835, 34.9361) -> (69.485, 34.9361) projected
  line L70 (68.735, 34.1861) -> (68.735, 29.6861) projected
  line L71 (68.735, 29.6861) -> (68.735, 34.1861) projected
  circle A129 centre (-15.465, -11.0639) radius 1.35 projected
  circle A130 centre (-18.6868, -3.2858) radius 1.35 projected
  circle A131 centre (-37.465, -11.0639) radius 1.35 projected
  circle A132 centre (-34.2432, -3.2858) radius 1.35 projected
  circle A133 centre (-26.465, -0.0639) radius 1.35 projected
  circle A134 centre (-36.515, 31.9361) radius 1.35 projected
  circle A135 centre (-16.415, 31.9361) radius 1.35 projected
  arc A136 (-21.465, 34.1861) -> (-20.715, 34.9361) centre (-21.465, 34.9361) ccw projected
  arc A137 (-21.465, 34.1861) -> (-20.715, 34.9361) centre (-21.465, 34.9361) ccw projected
  arc A138 (-31.465, 29.6861) -> (-30.715, 28.9361) centre (-31.465, 28.9361) ccw projected
  arc A139 (-31.465, 29.6861) -> (-30.715, 28.9361) centre (-31.465, 28.9361) ccw projected
  arc A140 (-32.215, 34.9361) -> (-31.465, 34.1861) centre (-31.465, 34.9361) ccw projected
  arc A141 (-32.215, 34.9361) -> (-31.465, 34.1861) centre (-31.465, 34.9361) ccw projected
  arc A142 (-22.215, 28.9361) -> (-21.465, 29.6861) centre (-21.465, 28.9361) ccw projected
  arc A143 (-22.215, 28.9361) -> (-21.465, 29.6861) centre (-21.465, 28.9361) ccw projected
  line L72 (-31.465, 34.1861) -> (-31.465, 29.6861) projected
  line L73 (-31.465, 29.6861) -> (-31.465, 34.1861) projected
  circle A144 centre (-15.465, -11.0639) radius 1.35 projected
  circle A145 centre (-15.465, -11.0639) radius 1.35 projected
  circle A146 centre (-16.415, 31.9361) radius 1.35 projected
  circle A147 centre (-16.415, 31.9361) radius 1.35 projected
  arc A148 (-19.015, -11.0639) -> (-12.465, -11.0639) centre (-15.74, -10.2126) ccw projected
  arc A149 (-19.015, -11.0639) -> (-12.465, -11.0639) centre (-15.74, -10.2126) ccw projected
  circle A150 centre (-18.6868, -3.2858) radius 1.35 projected
  circle A151 centre (-18.6868, -3.2858) radius 1.35 projected
  circle A152 centre (-26.465, -0.0639) radius 1.35 projected
  circle A153 centre (-26.465, -0.0639) radius 1.35 projected
  line L74 (-22.215, 28.9361) -> (-30.715, 28.9361) projected
  line L75 (-30.715, 28.9361) -> (-22.215, 28.9361) projected
  arc A154 (-19.015, -11.0639) -> (-33.915, -11.0639) centre (-26.465, -11.0639) ccw projected
  arc A155 (-19.015, -11.0639) -> (-33.915, -11.0639) centre (-26.465, -11.0639) ccw projected
  circle A156 centre (-34.2432, -3.2858) radius 1.35 projected
  circle A157 centre (-34.2432, -3.2858) radius 1.35 projected
  circle A158 centre (-36.515, 31.9361) radius 1.35 projected
  circle A159 centre (-36.515, 31.9361) radius 1.35 projected
  circle A160 centre (-37.465, -11.0639) radius 1.35 projected
  circle A161 centre (-37.465, -11.0639) radius 1.35 projected
  arc A162 (-40.465, -11.0639) -> (-33.915, -11.0639) centre (-37.19, -10.2275) ccw projected
  arc A163 (-40.465, -11.0639) -> (-33.915, -11.0639) centre (-37.19, -10.2275) ccw projected
  line L76 (-46.565, 28.9361) -> (-40.465, -11.0639) projected
  line L77 (-46.565, 28.9361) -> (-40.465, -11.0639) projected
  line L78 (-46.565, 34.9361) -> (-46.565, 28.9361) projected
  line L79 (-46.565, 34.9361) -> (-46.565, 28.9361) projected
  line L80 (-32.215, 34.9361) -> (-46.565, 34.9361) projected
  line L81 (-32.215, 34.9361) -> (-46.565, 34.9361) projected
  line L82 (-21.465, 29.6861) -> (-21.465, 34.1861) projected
  line L83 (-21.465, 34.1861) -> (-21.465, 29.6861) projected
  circle A164 centre (71.5132, -3.2858) radius 1.35 projected
  circle A165 centre (71.5132, -3.2858) radius 1.35 projected
  circle A166 centre (71.5132, -3.2858) radius 1.35 projected
  circle A167 centre (63.735, -0.0639) radius 1.35 projected
  circle A168 centre (-26.465, -11.0639) radius 13.8
  circle A169 centre (-26.465, -22.0639) radius 1.2813
  circle A170 centre (-34.2432, -18.8421) radius 1.2813
  circle A171 centre (-37.465, -11.0639) radius 1.2813
  circle A172 centre (-34.2432, -3.2858) radius 1.2813
  circle A173 centre (-26.465, -0.0639) radius 1.2813
  circle A174 centre (-18.6868, -3.2858) radius 1.2813
  circle A175 centre (-15.465, -11.0639) radius 1.2813
  circle A176 centre (-18.6868, -18.8421) radius 1.2813
  circle A177 centre (-26.465, -11.0639) radius 6
  line L84 (-32.465, -11.0639) -> (-32.215, -23.609)
  line L85 (-20.465, -11.0639) -> (-20.465, -23.4913)
  circle A178 centre (-18.6868, -18.8421) radius 1.3813
  circle A179 centre (-34.2432, -18.8421) radius 1.3813
  arc A180 (49.735, -11.0639) -> (56.285, -11.0639) centre (53.01, -10.2275) ccw
  arc A181 (71.185, -11.0639) -> (56.285, -11.0639) centre (63.735, -11.0639) ccw
  arc A182 (71.185, -11.0639) -> (77.735, -11.0639) centre (74.46, -10.2126) ccw
  circle A183 centre (74.735, -11.0639) radius 1.35
  circle A184 centre (71.5132, -3.2858) radius 1.35
  circle A185 centre (52.735, -11.0639) radius 1.35
  circle A186 centre (55.9568, -3.2858) radius 1.35
  circle A187 centre (63.735, -0.0639) radius 1.35
  circle A188 centre (74.735, -11.0639) radius 1.35
  circle A189 centre (71.5132, -3.2858) radius 1.35
  circle A190 centre (52.735, -11.0639) radius 1.35
  circle A191 centre (55.9568, -3.2858) radius 1.35
  circle A192 centre (63.735, -0.0639) radius 1.35
  arc A193 (71.185, -11.0639) -> (77.735, -11.0639) centre (74.46, -10.2126) ccw
  arc A194 (71.185, -11.0639) -> (56.285, -11.0639) centre (63.735, -11.0639) ccw
  arc A195 (49.735, -11.0639) -> (56.285, -11.0639) centre (53.01, -10.2275) ccw
  circle A196 centre (71.5132, -3.2858) radius 1.35
  circle A197 centre (74.735, -11.0639) radius 1.35
  circle A198 centre (52.735, -11.0639) radius 1.35
  arc A199 (71.185, -11.0639) -> (77.735, -11.0639) centre (74.46, -10.2126) ccw
  arc A200 (71.185, -11.0639) -> (56.285, -11.0639) centre (63.735, -11.0639) ccw
  circle A201 centre (55.9568, -3.2858) radius 1.35
  circle A202 centre (63.735, -0.0639) radius 1.35
  arc A203 (49.735, -11.0639) -> (56.285, -11.0639) centre (53.01, -10.2275) ccw
  arc A204 (71.185, -11.0639) -> (56.285, -11.0639) centre (63.735, -11.0639) ccw
  arc A205 (49.735, -11.0639) -> (56.285, -11.0639) centre (53.01, -10.2275) ccw
  arc A206 (71.185, -11.0639) -> (77.735, -11.0639) centre (74.46, -10.2126) ccw
  circle A207 centre (74.735, -11.0639) radius 1.35
  circle A208 centre (71.5132, -3.2858) radius 1.35
  circle A209 centre (52.735, -11.0639) radius 1.35
  circle A210 centre (55.9568, -3.2858) radius 1.35
  circle A211 centre (63.735, -0.0639) radius 1.35
  circle A212 centre (74.735, -11.0639) radius 1.35
  circle A213 centre (74.735, -11.0639) radius 1.35
  arc A214 (71.185, -11.0639) -> (77.735, -11.0639) centre (74.46, -10.2126) ccw
  arc A215 (71.185, -11.0639) -> (77.735, -11.0639) centre (74.46, -10.2126) ccw
  circle A216 centre (71.5132, -3.2858) radius 1.35
  circle A217 centre (71.5132, -3.2858) radius 1.35
  circle A218 centre (63.735, -0.0639) radius 1.35
  circle A219 centre (63.735, -0.0639) radius 1.35
  arc A220 (71.185, -11.0639) -> (56.285, -11.0639) centre (63.735, -11.0639) ccw
  arc A221 (71.185, -11.0639) -> (56.285, -11.0639) centre (63.735, -11.0639) ccw
  circle A222 centre (55.9568, -3.2858) radius 1.35
  circle A223 centre (55.9568, -3.2858) radius 1.35
  circle A224 centre (52.735, -11.0639) radius 1.35
  circle A225 centre (52.735, -11.0639) radius 1.35
  arc A226 (49.735, -11.0639) -> (56.285, -11.0639) centre (53.01, -10.2275) ccw
  arc A227 (49.735, -11.0639) -> (56.285, -11.0639) centre (53.01, -10.2275) ccw
  circle A228 centre (63.735, -11.0639) radius 13.8
  circle A229 centre (63.735, -22.0639) radius 1.2813
  circle A230 centre (55.9568, -18.8421) radius 1.2813
  circle A231 centre (52.735, -11.0639) radius 1.2813
  circle A232 centre (55.9568, -3.2858) radius 1.2813
  circle A233 centre (63.735, -0.0639) radius 1.2813
  circle A234 centre (71.5132, -3.2858) radius 1.2813
  circle A235 centre (74.735, -11.0639) radius 1.2813
  circle A236 centre (71.5132, -18.8421) radius 1.2813
  circle A237 centre (63.735, -11.0639) radius 6
  line L86 (57.735, -11.0639) -> (57.985, -23.609)
  line L87 (69.735, -11.0639) -> (69.735, -23.4913)
  circle A238 centre (71.5132, -18.8421) radius 1.3813
  circle A239 centre (55.9568, -18.8421) radius 1.3813
  point P0 (0, 0)
  point P1 (-26.465, -11.0639)
  point P2 (-12.6775, -11.6519)
  point P3 (-40.2522, -11.6587)
  point P4 (-32.4602, -11.303)
  point P5 (77.735, -11.0639)
  point P6 (77.735, -11.0639)
  point P7 (63.735, -11.0639)
  point P8 (77.5225, -11.6519)
  point P9 (49.9478, -11.6587)
  point P10 (57.7398, -11.303)
  dimension "d30" = 12
  dimension "d31" = 0.1
  dimension "d32" = 0.1
  dimension "d35" = 12
  dimension "d36" = 0.1
  dimension "d37" = 0.1
extrude "돌출4" add sketch "스케치4" against normal blind 6 contours A228 L87 A237 L86 A7 A8 A9 | A4 A5 A6 A168 L85 A177 L84
properties part number "frame_pelvis_to_waist1" material "PMMA 플라스틱"
